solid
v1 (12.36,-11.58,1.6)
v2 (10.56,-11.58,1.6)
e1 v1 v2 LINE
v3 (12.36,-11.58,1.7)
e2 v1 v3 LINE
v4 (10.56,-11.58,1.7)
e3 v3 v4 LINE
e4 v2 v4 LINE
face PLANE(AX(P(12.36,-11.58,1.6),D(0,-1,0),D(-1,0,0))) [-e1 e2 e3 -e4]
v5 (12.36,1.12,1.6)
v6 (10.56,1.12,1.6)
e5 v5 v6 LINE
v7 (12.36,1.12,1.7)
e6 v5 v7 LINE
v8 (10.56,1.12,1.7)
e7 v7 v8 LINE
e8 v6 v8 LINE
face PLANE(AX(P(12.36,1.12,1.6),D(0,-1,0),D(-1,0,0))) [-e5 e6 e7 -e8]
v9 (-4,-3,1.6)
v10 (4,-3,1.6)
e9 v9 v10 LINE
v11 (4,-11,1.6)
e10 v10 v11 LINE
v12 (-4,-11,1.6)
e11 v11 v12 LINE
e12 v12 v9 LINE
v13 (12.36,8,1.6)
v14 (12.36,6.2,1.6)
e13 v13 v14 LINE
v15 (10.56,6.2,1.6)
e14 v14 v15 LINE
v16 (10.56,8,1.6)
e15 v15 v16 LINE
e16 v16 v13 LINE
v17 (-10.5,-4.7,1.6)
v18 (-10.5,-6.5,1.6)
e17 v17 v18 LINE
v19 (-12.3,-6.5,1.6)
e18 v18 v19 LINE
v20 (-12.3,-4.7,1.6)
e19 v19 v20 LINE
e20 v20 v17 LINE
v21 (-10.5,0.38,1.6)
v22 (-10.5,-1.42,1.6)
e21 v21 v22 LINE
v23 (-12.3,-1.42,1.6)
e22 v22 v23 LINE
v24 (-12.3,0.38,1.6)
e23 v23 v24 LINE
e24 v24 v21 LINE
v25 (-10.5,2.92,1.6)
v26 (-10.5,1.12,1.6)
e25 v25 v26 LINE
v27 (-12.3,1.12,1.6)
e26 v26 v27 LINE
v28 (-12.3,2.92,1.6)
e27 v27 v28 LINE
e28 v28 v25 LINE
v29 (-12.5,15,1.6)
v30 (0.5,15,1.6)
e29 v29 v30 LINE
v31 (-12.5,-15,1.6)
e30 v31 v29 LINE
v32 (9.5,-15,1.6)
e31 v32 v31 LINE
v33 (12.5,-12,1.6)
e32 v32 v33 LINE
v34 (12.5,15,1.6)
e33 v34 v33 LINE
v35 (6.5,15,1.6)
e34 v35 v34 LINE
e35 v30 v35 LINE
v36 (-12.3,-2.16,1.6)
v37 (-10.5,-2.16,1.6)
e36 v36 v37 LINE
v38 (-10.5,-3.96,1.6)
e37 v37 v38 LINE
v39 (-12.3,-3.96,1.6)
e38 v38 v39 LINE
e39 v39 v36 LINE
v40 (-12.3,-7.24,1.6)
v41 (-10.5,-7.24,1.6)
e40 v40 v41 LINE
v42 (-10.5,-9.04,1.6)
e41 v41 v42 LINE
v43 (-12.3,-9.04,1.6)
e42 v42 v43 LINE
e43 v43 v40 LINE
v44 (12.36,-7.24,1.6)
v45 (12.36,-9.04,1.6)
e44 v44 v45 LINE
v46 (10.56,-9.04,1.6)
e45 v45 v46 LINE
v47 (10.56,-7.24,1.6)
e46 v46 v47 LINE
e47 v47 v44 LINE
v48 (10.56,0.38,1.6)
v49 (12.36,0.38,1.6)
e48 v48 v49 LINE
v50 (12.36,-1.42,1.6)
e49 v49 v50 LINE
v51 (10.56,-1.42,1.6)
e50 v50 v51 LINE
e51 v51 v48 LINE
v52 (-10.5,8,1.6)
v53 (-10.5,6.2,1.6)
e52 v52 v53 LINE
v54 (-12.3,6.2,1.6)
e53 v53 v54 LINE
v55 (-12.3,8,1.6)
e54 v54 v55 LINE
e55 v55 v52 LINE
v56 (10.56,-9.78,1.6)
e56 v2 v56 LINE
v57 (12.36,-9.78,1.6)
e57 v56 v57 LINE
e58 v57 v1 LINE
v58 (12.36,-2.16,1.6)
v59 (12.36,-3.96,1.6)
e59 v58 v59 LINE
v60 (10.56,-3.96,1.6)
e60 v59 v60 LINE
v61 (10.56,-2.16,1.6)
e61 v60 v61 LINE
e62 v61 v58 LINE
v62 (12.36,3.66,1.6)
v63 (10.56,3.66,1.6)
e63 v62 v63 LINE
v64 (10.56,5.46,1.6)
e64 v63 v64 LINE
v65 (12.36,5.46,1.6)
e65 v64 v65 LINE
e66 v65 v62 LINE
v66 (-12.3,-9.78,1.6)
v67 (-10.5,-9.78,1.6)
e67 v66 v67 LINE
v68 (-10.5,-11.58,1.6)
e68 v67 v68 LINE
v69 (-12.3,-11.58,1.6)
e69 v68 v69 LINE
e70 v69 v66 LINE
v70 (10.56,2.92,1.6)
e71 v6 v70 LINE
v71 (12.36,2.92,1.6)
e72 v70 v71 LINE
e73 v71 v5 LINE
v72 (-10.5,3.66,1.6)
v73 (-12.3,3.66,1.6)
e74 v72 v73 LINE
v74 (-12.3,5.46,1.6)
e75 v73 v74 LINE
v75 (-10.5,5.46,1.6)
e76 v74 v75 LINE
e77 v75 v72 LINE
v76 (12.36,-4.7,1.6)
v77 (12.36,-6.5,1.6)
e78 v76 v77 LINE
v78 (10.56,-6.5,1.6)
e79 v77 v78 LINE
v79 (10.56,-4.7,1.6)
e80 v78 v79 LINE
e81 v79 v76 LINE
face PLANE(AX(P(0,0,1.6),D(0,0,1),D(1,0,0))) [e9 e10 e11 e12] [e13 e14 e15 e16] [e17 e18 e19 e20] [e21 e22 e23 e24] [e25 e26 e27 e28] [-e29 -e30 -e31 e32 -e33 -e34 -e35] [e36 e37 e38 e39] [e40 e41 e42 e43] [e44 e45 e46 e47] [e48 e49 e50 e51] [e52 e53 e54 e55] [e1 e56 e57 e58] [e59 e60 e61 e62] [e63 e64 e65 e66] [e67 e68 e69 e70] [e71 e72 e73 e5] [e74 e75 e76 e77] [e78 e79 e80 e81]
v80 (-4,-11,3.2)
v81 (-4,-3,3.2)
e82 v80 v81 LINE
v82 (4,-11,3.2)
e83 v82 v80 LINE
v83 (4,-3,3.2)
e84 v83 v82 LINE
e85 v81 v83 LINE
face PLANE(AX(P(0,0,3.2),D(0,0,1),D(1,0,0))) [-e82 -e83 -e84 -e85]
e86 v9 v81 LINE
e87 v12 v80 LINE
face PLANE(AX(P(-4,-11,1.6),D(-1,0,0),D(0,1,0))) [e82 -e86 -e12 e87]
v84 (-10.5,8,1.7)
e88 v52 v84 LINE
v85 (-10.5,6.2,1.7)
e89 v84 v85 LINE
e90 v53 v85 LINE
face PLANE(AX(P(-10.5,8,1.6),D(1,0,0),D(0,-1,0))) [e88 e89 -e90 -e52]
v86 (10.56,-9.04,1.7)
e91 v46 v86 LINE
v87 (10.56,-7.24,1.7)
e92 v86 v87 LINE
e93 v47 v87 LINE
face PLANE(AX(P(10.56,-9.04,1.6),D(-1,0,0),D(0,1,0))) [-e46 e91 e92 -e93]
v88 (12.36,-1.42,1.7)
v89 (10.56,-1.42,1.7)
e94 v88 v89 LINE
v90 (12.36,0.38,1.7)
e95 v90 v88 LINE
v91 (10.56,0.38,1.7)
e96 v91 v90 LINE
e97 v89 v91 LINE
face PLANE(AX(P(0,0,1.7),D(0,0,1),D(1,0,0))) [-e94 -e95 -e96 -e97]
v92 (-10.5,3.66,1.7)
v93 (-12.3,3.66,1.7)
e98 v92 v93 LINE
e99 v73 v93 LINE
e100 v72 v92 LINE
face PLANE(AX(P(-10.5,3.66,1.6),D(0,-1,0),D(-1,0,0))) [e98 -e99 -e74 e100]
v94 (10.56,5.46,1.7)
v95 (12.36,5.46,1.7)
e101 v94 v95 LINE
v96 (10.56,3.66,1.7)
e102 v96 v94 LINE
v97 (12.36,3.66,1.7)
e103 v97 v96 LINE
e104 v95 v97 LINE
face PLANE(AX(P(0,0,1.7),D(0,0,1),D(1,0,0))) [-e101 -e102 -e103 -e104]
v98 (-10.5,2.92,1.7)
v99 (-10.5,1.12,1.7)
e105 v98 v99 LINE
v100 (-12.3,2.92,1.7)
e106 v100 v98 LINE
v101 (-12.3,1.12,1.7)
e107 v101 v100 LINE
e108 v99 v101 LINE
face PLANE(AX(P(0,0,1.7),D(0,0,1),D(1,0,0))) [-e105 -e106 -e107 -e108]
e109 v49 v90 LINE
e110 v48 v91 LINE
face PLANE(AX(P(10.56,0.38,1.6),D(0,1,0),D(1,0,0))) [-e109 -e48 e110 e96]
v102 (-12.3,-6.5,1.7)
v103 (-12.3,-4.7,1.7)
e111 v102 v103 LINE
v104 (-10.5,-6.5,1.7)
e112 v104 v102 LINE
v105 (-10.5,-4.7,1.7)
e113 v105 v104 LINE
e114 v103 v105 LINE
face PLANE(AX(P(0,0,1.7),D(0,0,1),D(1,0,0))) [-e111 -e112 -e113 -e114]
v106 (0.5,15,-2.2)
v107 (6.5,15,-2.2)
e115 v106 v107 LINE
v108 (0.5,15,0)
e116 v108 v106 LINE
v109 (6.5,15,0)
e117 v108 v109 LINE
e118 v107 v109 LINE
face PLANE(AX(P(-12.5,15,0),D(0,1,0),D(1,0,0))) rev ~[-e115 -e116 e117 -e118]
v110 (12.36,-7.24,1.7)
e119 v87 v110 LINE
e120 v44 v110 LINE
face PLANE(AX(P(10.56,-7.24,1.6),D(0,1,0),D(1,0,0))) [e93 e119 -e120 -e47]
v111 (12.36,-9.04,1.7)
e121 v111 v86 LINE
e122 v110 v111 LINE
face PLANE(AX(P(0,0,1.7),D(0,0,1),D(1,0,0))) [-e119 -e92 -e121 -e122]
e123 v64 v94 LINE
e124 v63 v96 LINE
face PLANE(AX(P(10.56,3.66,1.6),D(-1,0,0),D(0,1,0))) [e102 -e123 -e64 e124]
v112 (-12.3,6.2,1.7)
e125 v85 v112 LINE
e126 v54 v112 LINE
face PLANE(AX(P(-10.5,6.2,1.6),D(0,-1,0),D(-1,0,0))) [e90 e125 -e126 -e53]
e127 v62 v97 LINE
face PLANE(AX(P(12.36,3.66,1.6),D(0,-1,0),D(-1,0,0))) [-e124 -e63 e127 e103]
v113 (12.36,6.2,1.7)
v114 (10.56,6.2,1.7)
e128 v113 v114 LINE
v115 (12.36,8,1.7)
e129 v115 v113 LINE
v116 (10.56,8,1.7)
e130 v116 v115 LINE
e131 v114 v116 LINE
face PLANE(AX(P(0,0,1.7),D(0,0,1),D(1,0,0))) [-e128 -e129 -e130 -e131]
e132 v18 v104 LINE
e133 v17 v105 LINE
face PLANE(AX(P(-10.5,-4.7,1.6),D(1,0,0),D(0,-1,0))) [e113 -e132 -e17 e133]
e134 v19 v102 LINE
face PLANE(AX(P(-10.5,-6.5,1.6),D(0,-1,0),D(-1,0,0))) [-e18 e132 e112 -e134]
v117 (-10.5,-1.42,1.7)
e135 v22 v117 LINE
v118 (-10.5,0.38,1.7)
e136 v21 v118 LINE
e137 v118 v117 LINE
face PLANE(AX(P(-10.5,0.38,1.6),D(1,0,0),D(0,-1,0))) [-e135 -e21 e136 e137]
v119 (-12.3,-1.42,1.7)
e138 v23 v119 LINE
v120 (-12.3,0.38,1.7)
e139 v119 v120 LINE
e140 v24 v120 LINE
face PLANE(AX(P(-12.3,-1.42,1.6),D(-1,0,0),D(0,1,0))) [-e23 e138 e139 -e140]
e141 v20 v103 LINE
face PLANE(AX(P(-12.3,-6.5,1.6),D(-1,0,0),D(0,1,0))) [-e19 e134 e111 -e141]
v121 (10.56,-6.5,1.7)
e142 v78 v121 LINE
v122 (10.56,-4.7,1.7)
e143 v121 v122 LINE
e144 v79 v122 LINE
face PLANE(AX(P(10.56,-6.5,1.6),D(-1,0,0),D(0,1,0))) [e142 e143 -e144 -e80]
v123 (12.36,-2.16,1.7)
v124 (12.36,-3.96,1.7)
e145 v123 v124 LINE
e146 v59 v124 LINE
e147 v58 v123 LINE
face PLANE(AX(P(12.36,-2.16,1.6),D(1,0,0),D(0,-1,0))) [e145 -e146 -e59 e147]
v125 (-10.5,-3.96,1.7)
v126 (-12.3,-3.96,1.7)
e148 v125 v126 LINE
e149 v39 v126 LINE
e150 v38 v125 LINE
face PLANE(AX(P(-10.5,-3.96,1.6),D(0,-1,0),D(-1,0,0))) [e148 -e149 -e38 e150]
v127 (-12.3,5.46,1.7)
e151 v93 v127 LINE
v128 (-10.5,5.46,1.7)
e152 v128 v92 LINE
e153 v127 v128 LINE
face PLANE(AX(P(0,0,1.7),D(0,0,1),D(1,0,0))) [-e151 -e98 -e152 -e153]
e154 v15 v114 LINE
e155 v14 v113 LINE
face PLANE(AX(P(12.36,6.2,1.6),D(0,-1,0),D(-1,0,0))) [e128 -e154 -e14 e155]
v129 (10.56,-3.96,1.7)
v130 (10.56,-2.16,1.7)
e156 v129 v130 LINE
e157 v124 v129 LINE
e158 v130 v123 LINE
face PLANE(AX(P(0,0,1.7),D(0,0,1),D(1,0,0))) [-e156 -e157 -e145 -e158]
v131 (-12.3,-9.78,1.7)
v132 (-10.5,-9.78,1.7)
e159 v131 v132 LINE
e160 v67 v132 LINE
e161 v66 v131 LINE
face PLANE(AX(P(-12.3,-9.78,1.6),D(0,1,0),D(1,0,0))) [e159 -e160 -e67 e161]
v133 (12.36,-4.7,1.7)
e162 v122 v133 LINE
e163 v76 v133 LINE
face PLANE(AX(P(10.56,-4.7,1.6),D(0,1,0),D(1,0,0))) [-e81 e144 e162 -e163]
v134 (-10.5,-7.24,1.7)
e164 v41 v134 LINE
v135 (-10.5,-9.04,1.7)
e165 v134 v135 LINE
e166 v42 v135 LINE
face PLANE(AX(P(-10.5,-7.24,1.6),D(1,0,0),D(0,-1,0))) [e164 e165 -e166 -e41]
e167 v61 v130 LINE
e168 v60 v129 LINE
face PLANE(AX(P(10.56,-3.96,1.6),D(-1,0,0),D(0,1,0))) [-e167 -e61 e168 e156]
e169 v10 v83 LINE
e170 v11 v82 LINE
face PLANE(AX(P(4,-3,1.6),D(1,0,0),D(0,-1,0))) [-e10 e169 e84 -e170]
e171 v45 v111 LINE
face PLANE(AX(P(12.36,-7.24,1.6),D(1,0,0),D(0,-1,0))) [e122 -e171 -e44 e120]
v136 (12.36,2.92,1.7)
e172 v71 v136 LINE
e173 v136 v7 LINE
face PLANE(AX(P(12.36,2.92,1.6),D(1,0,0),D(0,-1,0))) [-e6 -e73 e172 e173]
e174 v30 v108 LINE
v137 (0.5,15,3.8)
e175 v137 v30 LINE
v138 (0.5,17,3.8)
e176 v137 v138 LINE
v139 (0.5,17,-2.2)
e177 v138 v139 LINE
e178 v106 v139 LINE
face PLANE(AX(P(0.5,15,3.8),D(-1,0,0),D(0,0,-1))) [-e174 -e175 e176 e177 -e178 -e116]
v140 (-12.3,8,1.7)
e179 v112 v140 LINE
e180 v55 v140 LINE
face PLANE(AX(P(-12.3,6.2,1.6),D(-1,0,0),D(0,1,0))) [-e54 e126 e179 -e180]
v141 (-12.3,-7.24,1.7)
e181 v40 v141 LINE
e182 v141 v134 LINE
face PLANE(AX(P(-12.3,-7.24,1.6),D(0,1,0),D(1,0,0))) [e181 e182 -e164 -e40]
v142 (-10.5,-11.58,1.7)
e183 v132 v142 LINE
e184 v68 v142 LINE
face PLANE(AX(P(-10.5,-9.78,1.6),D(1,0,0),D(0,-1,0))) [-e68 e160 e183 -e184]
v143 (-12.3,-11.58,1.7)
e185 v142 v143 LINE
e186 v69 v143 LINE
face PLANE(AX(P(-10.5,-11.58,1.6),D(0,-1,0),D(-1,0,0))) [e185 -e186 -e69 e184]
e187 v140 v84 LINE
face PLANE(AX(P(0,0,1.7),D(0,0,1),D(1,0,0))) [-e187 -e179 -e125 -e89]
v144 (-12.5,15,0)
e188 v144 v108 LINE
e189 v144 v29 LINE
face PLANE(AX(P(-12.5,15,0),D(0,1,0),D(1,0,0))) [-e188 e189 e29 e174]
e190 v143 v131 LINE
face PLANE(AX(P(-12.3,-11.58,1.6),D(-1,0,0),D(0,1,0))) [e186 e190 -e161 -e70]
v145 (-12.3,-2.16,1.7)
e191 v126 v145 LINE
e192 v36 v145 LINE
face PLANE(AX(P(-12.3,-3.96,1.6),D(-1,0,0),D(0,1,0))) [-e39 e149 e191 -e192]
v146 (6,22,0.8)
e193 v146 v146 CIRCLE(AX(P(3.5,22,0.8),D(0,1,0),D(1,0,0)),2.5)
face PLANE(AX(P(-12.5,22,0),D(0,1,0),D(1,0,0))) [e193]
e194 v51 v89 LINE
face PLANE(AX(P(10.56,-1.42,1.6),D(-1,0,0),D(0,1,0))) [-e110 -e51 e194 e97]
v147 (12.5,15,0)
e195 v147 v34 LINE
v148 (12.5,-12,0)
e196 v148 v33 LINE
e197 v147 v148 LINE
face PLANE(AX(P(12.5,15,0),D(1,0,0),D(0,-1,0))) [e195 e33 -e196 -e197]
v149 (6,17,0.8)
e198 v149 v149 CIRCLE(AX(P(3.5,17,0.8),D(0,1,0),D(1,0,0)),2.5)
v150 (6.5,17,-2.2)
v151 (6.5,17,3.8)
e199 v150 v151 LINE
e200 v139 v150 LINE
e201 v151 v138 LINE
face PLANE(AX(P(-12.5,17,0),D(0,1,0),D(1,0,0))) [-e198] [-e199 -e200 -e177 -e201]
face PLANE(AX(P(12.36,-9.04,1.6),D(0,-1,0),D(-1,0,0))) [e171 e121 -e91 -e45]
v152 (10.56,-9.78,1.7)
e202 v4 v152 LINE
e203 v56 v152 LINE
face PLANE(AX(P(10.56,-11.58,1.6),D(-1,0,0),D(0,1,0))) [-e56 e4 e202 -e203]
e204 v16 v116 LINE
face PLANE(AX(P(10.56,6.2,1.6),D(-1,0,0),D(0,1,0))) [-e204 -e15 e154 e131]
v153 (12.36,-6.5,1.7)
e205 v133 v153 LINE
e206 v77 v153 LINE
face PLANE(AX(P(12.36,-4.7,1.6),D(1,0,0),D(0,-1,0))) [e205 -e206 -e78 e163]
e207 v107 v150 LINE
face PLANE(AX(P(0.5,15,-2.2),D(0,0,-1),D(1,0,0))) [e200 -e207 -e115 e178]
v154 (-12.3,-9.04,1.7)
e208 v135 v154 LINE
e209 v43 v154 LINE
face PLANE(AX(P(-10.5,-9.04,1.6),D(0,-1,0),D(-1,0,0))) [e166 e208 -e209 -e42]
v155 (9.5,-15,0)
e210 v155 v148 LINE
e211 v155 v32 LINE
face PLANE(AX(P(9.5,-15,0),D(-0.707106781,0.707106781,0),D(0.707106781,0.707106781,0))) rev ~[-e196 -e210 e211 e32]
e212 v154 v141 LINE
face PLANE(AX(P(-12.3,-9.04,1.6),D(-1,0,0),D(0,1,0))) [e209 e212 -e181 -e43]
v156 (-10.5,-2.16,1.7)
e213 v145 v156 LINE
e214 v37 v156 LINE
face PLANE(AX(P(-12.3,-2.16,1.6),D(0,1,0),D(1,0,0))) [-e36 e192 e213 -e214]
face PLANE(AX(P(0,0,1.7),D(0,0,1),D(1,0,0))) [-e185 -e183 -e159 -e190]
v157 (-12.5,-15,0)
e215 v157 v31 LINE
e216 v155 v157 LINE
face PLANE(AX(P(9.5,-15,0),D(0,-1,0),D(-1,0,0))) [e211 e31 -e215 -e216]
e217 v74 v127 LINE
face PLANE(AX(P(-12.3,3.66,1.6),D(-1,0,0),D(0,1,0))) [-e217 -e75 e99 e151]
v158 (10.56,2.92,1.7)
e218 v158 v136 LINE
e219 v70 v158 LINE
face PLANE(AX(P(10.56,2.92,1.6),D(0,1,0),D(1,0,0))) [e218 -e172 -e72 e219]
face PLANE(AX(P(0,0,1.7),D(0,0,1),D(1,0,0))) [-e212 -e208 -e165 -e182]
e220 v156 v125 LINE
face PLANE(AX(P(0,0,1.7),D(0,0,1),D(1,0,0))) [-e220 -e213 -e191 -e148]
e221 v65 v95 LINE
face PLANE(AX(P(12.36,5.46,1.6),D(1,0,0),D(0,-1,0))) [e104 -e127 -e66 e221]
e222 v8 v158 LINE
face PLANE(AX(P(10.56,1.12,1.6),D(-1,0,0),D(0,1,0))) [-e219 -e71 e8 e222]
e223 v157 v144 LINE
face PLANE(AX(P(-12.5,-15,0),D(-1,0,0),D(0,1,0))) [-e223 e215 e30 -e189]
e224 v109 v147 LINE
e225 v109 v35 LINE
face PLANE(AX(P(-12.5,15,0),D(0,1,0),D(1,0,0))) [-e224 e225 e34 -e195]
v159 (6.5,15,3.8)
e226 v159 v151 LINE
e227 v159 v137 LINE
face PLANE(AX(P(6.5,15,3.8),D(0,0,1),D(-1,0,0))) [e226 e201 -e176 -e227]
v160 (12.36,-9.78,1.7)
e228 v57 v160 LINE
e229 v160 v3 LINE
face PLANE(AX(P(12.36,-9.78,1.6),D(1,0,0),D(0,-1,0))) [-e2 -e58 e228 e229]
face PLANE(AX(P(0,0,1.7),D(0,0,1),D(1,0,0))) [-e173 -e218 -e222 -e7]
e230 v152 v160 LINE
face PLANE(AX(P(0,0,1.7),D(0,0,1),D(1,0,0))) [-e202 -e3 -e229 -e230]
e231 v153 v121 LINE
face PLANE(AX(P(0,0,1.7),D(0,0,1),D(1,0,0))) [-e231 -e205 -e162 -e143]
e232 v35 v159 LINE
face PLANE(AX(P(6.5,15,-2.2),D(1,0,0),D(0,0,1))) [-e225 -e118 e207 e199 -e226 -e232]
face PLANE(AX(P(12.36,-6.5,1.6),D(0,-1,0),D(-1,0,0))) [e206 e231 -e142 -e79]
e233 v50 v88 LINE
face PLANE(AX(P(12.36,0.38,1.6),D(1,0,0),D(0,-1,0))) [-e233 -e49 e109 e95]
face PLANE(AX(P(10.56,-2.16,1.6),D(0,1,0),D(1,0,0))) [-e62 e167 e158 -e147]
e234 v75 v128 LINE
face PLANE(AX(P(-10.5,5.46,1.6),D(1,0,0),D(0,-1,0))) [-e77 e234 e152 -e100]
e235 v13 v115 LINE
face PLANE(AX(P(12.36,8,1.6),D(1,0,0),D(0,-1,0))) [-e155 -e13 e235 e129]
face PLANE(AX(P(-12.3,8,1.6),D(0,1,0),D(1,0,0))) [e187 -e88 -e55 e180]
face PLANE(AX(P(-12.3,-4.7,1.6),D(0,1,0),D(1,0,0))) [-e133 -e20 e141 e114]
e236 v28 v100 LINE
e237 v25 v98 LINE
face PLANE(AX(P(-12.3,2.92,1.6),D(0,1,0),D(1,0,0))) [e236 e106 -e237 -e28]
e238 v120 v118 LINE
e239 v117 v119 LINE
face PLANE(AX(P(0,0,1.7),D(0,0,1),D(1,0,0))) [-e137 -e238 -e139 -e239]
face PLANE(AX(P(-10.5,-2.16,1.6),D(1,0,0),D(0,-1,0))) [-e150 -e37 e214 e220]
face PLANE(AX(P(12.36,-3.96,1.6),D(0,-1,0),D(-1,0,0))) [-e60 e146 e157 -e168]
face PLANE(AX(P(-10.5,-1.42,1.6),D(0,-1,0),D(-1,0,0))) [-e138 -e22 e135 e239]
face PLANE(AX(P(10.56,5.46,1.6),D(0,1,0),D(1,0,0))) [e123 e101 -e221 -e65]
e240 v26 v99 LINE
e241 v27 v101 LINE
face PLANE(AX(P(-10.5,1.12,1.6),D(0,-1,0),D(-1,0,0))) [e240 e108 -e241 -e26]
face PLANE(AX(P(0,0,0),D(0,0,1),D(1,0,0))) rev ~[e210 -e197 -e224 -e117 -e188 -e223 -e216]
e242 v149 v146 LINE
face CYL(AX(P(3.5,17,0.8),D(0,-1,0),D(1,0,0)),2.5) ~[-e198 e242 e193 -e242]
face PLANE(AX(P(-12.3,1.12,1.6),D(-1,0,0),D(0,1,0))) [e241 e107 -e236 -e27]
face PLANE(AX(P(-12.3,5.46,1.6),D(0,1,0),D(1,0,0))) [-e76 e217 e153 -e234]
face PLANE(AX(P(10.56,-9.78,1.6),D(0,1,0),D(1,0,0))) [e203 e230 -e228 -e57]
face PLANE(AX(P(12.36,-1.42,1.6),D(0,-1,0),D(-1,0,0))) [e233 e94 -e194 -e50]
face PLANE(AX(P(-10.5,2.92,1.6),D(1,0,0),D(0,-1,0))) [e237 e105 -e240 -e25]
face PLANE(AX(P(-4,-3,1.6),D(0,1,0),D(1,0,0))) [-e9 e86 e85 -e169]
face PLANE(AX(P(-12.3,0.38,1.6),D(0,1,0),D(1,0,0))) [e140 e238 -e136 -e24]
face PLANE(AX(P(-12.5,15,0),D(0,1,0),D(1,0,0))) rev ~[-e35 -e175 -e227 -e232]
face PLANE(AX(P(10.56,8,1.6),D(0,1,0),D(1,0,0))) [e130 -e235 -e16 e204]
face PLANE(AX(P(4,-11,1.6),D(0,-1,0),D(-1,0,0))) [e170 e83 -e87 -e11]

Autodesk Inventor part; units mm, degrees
ref_plane "YZ Plane" through (0, 0, 0) normal (1, 0, 0) x (0, 1, 0)
ref_plane "XZ Plane" through (0, 0, 0) normal (0, 1, 0) x (-1, 0, 0)
ref_plane "XY Plane" through (0, 0, 0) normal (0, 0, 1) x (1, 0, 0)
sketch "Sketch1" plane through (0, 0, 0) normal (0, 0, 1) x (1, 0, 0)
  line L0 (-12.5, 15) -> (12.5, 15)
  line L1 (12.5, 15) -> (12.5, -12)
  line L2 (9.5, -15) -> (-12.5, -15)
  line L3 (-12.5, -15) -> (-12.5, 15)
  line L4 (-12.5, 15) -> (12.5, -15) construction
  line L5 (12.5, 15) -> (-12.5, -15) construction
  line L6 (9.5, -15) -> (12.5, -12)
  point P0 (0, 0)
  dimension "d0" = 25
  dimension "d1" = 30
  dimension "d2" = 3
  dimension "d3" = 3
extrude "Extrusion1" add sketch "Sketch1" along normal blind 1.6
sketch "Sketch2" plane through (0, 0, 1.6) normal (0, 0, 1) x (1, 0, 0)
  line L0 (-4, -3) -> (4, -3)
  line L1 (4, -3) -> (4, -11)
  line L2 (4, -11) -> (-4, -11)
  line L3 (-4, -11) -> (-4, -3)
  line L4 (-4, -3) -> (4, -11) construction
  line L5 (4, -3) -> (-4, -11) construction
  line L6 (-12.5, -15) -> (9.5, -15) projected
  point P0 (0, 0)
  point P1 (0, -7)
  dimension "d6" = 8
  dimension "d7" = 8
  dimension "d8" = 8
extrude "Extrusion2" add sketch "Sketch2" along normal blind 1.6
sketch "Sketch5" plane through (0, 0, 1.6) normal (0, 0, 1) x (1, 0, 0)
  line L0 (-12.3, 8) -> (-10.5, 8)
  line L1 (-10.5, 8) -> (-10.5, 6.2)
  line L2 (-10.5, 6.2) -> (-12.3, 6.2)
  line L3 (-12.3, 6.2) -> (-12.3, 8)
  line L4 (-12.3, 8) -> (-10.5, 6.2) construction
  line L5 (-10.5, 8) -> (-12.3, 6.2) construction
  line L6 (-12.5, 15) -> (-12.5, -15) projected
  line L7 (-12.3, 3.66) -> (-12.3, 5.46)
  line L8 (-12.3, 5.46) -> (-10.5, 5.46)
  line L9 (-10.5, 5.46) -> (-10.5, 3.66)
  line L10 (-10.5, 3.66) -> (-12.3, 3.66)
  line L11 (-12.3, 1.12) -> (-12.3, 2.92)
  line L12 (-12.3, 2.92) -> (-10.5, 2.92)
  line L13 (-10.5, 2.92) -> (-10.5, 1.12)
  line L14 (-10.5, 1.12) -> (-12.3, 1.12)
  line L15 (-12.3, -1.42) -> (-12.3, 0.38)
  line L16 (-12.3, 0.38) -> (-10.5, 0.38)
  line L17 (-10.5, 0.38) -> (-10.5, -1.42)
  line L18 (-10.5, -1.42) -> (-12.3, -1.42)
  line L19 (-12.3, -3.96) -> (-12.3, -2.16)
  line L20 (-12.3, -2.16) -> (-10.5, -2.16)
  line L21 (-10.5, -2.16) -> (-10.5, -3.96)
  line L22 (-10.5, -3.96) -> (-12.3, -3.96)
  line L23 (-12.3, -6.5) -> (-12.3, -4.7)
  line L24 (-12.3, -4.7) -> (-10.5, -4.7)
  line L25 (-10.5, -4.7) -> (-10.5, -6.5)
  line L26 (-10.5, -6.5) -> (-12.3, -6.5)
  line L27 (-12.3, -9.04) -> (-12.3, -7.24)
  line L28 (-12.3, -7.24) -> (-10.5, -7.24)
  line L29 (-10.5, -7.24) -> (-10.5, -9.04)
  line L30 (-10.5, -9.04) -> (-12.3, -9.04)
  line L31 (-12.3, -11.58) -> (-12.3, -9.78)
  line L32 (-12.3, -9.78) -> (-10.5, -9.78)
  line L33 (-10.5, -9.78) -> (-10.5, -11.58)
  line L34 (-10.5, -11.58) -> (-12.3, -11.58)
  line L35 (12.5, 15) -> (-12.5, 15) projected
  line L36 (10.56, 6.2) -> (10.56, 8)
  line L37 (10.56, 8) -> (12.36, 8)
  line L38 (12.36, 8) -> (12.36, 6.2)
  line L39 (12.36, 6.2) -> (10.56, 6.2)
  line L40 (10.56, 3.66) -> (10.56, 5.46)
  line L41 (10.56, 5.46) -> (12.36, 5.46)
  line L42 (12.36, 5.46) -> (12.36, 3.66)
  line L43 (12.36, 3.66) -> (10.56, 3.66)
  line L44 (10.56, 1.12) -> (10.56, 2.92)
  line L45 (10.56, 2.92) -> (12.36, 2.92)
  line L46 (12.36, 2.92) -> (12.36, 1.12)
  line L47 (12.36, 1.12) -> (10.56, 1.12)
  line L48 (10.56, -1.42) -> (10.56, 0.38)
  line L49 (10.56, 0.38) -> (12.36, 0.38)
  line L50 (12.36, 0.38) -> (12.36, -1.42)
  line L51 (12.36, -1.42) -> (10.56, -1.42)
  line L52 (10.56, -3.96) -> (10.56, -2.16)
  line L53 (10.56, -2.16) -> (12.36, -2.16)
  line L54 (12.36, -2.16) -> (12.36, -3.96)
  line L55 (12.36, -3.96) -> (10.56, -3.96)
  line L56 (10.56, -6.5) -> (10.56, -4.7)
  line L57 (10.56, -4.7) -> (12.36, -4.7)
  line L58 (12.36, -4.7) -> (12.36, -6.5)
  line L59 (12.36, -6.5) -> (10.56, -6.5)
  line L60 (10.56, -9.04) -> (10.56, -7.24)
  line L61 (10.56, -7.24) -> (12.36, -7.24)
  line L62 (12.36, -7.24) -> (12.36, -9.04)
  line L63 (12.36, -9.04) -> (10.56, -9.04)
  line L64 (10.56, -11.58) -> (10.56, -9.78)
  line L65 (10.56, -9.78) -> (12.36, -9.78)
  line L66 (12.36, -9.78) -> (12.36, -11.58)
  line L67 (12.36, -11.58) -> (10.56, -11.58)
  point P0 (0, 0)
  point P1 (-11.4, 7.1)
  point P2 (2, 15)
  dimension "d19" = 1.8
  dimension "d20" = 1.8
  dimension "d21" = 1.1
  dimension "d24" = 2.54
  dimension "d29" = 7
  dimension "d32" = 22.86
extrude "Extrusion5" add sketch "Sketch5" along normal blind 0.1
sketch "Sketch6" plane through (-12.5, 15, 0) normal (0, 1, 0) x (1, 0, 0)
  line L0 (19, -3.8) -> (13, -3.8)
  line L1 (13, -3.8) -> (13, 2.2)
  line L2 (13, 2.2) -> (19, 2.2)
  line L3 (19, 2.2) -> (19, -3.8)
  line L4 (19, -3.8) -> (13, 2.2) construction
  line L5 (13, -3.8) -> (19, 2.2) construction
  line L6 (25, 0) -> (25, -1.6) projected
  point P0 (12.5, 0)
  point P1 (16, -0.8)
  point P2 (25, -0.8)
  dimension "d39" = 6
  dimension "d40" = 6
  dimension "d41" = 6
extrude "Extrusion6" add sketch "Sketch6" along normal blind 2
sketch "Sketch7" plane through (-12.5, 17, 0) normal (0, 1, 0) x (1, 0, 0)
  circle A0 centre (16, -0.8) radius 2.5
  line L0 (13, -3.8) -> (19, -3.8) projected
  line L1 (13, 2.2) -> (13, -3.8) projected
  point P0 (12.5, 0)
  point P1 (16, -3.8)
  point P2 (13, -0.8)
  dimension "d44" = 5
extrude "Extrusion7" add sketch "Sketch7" along normal blind 5
equation "\"d3\" = d2"
properties part number "GNSS_board" material "ABS Plastic"
